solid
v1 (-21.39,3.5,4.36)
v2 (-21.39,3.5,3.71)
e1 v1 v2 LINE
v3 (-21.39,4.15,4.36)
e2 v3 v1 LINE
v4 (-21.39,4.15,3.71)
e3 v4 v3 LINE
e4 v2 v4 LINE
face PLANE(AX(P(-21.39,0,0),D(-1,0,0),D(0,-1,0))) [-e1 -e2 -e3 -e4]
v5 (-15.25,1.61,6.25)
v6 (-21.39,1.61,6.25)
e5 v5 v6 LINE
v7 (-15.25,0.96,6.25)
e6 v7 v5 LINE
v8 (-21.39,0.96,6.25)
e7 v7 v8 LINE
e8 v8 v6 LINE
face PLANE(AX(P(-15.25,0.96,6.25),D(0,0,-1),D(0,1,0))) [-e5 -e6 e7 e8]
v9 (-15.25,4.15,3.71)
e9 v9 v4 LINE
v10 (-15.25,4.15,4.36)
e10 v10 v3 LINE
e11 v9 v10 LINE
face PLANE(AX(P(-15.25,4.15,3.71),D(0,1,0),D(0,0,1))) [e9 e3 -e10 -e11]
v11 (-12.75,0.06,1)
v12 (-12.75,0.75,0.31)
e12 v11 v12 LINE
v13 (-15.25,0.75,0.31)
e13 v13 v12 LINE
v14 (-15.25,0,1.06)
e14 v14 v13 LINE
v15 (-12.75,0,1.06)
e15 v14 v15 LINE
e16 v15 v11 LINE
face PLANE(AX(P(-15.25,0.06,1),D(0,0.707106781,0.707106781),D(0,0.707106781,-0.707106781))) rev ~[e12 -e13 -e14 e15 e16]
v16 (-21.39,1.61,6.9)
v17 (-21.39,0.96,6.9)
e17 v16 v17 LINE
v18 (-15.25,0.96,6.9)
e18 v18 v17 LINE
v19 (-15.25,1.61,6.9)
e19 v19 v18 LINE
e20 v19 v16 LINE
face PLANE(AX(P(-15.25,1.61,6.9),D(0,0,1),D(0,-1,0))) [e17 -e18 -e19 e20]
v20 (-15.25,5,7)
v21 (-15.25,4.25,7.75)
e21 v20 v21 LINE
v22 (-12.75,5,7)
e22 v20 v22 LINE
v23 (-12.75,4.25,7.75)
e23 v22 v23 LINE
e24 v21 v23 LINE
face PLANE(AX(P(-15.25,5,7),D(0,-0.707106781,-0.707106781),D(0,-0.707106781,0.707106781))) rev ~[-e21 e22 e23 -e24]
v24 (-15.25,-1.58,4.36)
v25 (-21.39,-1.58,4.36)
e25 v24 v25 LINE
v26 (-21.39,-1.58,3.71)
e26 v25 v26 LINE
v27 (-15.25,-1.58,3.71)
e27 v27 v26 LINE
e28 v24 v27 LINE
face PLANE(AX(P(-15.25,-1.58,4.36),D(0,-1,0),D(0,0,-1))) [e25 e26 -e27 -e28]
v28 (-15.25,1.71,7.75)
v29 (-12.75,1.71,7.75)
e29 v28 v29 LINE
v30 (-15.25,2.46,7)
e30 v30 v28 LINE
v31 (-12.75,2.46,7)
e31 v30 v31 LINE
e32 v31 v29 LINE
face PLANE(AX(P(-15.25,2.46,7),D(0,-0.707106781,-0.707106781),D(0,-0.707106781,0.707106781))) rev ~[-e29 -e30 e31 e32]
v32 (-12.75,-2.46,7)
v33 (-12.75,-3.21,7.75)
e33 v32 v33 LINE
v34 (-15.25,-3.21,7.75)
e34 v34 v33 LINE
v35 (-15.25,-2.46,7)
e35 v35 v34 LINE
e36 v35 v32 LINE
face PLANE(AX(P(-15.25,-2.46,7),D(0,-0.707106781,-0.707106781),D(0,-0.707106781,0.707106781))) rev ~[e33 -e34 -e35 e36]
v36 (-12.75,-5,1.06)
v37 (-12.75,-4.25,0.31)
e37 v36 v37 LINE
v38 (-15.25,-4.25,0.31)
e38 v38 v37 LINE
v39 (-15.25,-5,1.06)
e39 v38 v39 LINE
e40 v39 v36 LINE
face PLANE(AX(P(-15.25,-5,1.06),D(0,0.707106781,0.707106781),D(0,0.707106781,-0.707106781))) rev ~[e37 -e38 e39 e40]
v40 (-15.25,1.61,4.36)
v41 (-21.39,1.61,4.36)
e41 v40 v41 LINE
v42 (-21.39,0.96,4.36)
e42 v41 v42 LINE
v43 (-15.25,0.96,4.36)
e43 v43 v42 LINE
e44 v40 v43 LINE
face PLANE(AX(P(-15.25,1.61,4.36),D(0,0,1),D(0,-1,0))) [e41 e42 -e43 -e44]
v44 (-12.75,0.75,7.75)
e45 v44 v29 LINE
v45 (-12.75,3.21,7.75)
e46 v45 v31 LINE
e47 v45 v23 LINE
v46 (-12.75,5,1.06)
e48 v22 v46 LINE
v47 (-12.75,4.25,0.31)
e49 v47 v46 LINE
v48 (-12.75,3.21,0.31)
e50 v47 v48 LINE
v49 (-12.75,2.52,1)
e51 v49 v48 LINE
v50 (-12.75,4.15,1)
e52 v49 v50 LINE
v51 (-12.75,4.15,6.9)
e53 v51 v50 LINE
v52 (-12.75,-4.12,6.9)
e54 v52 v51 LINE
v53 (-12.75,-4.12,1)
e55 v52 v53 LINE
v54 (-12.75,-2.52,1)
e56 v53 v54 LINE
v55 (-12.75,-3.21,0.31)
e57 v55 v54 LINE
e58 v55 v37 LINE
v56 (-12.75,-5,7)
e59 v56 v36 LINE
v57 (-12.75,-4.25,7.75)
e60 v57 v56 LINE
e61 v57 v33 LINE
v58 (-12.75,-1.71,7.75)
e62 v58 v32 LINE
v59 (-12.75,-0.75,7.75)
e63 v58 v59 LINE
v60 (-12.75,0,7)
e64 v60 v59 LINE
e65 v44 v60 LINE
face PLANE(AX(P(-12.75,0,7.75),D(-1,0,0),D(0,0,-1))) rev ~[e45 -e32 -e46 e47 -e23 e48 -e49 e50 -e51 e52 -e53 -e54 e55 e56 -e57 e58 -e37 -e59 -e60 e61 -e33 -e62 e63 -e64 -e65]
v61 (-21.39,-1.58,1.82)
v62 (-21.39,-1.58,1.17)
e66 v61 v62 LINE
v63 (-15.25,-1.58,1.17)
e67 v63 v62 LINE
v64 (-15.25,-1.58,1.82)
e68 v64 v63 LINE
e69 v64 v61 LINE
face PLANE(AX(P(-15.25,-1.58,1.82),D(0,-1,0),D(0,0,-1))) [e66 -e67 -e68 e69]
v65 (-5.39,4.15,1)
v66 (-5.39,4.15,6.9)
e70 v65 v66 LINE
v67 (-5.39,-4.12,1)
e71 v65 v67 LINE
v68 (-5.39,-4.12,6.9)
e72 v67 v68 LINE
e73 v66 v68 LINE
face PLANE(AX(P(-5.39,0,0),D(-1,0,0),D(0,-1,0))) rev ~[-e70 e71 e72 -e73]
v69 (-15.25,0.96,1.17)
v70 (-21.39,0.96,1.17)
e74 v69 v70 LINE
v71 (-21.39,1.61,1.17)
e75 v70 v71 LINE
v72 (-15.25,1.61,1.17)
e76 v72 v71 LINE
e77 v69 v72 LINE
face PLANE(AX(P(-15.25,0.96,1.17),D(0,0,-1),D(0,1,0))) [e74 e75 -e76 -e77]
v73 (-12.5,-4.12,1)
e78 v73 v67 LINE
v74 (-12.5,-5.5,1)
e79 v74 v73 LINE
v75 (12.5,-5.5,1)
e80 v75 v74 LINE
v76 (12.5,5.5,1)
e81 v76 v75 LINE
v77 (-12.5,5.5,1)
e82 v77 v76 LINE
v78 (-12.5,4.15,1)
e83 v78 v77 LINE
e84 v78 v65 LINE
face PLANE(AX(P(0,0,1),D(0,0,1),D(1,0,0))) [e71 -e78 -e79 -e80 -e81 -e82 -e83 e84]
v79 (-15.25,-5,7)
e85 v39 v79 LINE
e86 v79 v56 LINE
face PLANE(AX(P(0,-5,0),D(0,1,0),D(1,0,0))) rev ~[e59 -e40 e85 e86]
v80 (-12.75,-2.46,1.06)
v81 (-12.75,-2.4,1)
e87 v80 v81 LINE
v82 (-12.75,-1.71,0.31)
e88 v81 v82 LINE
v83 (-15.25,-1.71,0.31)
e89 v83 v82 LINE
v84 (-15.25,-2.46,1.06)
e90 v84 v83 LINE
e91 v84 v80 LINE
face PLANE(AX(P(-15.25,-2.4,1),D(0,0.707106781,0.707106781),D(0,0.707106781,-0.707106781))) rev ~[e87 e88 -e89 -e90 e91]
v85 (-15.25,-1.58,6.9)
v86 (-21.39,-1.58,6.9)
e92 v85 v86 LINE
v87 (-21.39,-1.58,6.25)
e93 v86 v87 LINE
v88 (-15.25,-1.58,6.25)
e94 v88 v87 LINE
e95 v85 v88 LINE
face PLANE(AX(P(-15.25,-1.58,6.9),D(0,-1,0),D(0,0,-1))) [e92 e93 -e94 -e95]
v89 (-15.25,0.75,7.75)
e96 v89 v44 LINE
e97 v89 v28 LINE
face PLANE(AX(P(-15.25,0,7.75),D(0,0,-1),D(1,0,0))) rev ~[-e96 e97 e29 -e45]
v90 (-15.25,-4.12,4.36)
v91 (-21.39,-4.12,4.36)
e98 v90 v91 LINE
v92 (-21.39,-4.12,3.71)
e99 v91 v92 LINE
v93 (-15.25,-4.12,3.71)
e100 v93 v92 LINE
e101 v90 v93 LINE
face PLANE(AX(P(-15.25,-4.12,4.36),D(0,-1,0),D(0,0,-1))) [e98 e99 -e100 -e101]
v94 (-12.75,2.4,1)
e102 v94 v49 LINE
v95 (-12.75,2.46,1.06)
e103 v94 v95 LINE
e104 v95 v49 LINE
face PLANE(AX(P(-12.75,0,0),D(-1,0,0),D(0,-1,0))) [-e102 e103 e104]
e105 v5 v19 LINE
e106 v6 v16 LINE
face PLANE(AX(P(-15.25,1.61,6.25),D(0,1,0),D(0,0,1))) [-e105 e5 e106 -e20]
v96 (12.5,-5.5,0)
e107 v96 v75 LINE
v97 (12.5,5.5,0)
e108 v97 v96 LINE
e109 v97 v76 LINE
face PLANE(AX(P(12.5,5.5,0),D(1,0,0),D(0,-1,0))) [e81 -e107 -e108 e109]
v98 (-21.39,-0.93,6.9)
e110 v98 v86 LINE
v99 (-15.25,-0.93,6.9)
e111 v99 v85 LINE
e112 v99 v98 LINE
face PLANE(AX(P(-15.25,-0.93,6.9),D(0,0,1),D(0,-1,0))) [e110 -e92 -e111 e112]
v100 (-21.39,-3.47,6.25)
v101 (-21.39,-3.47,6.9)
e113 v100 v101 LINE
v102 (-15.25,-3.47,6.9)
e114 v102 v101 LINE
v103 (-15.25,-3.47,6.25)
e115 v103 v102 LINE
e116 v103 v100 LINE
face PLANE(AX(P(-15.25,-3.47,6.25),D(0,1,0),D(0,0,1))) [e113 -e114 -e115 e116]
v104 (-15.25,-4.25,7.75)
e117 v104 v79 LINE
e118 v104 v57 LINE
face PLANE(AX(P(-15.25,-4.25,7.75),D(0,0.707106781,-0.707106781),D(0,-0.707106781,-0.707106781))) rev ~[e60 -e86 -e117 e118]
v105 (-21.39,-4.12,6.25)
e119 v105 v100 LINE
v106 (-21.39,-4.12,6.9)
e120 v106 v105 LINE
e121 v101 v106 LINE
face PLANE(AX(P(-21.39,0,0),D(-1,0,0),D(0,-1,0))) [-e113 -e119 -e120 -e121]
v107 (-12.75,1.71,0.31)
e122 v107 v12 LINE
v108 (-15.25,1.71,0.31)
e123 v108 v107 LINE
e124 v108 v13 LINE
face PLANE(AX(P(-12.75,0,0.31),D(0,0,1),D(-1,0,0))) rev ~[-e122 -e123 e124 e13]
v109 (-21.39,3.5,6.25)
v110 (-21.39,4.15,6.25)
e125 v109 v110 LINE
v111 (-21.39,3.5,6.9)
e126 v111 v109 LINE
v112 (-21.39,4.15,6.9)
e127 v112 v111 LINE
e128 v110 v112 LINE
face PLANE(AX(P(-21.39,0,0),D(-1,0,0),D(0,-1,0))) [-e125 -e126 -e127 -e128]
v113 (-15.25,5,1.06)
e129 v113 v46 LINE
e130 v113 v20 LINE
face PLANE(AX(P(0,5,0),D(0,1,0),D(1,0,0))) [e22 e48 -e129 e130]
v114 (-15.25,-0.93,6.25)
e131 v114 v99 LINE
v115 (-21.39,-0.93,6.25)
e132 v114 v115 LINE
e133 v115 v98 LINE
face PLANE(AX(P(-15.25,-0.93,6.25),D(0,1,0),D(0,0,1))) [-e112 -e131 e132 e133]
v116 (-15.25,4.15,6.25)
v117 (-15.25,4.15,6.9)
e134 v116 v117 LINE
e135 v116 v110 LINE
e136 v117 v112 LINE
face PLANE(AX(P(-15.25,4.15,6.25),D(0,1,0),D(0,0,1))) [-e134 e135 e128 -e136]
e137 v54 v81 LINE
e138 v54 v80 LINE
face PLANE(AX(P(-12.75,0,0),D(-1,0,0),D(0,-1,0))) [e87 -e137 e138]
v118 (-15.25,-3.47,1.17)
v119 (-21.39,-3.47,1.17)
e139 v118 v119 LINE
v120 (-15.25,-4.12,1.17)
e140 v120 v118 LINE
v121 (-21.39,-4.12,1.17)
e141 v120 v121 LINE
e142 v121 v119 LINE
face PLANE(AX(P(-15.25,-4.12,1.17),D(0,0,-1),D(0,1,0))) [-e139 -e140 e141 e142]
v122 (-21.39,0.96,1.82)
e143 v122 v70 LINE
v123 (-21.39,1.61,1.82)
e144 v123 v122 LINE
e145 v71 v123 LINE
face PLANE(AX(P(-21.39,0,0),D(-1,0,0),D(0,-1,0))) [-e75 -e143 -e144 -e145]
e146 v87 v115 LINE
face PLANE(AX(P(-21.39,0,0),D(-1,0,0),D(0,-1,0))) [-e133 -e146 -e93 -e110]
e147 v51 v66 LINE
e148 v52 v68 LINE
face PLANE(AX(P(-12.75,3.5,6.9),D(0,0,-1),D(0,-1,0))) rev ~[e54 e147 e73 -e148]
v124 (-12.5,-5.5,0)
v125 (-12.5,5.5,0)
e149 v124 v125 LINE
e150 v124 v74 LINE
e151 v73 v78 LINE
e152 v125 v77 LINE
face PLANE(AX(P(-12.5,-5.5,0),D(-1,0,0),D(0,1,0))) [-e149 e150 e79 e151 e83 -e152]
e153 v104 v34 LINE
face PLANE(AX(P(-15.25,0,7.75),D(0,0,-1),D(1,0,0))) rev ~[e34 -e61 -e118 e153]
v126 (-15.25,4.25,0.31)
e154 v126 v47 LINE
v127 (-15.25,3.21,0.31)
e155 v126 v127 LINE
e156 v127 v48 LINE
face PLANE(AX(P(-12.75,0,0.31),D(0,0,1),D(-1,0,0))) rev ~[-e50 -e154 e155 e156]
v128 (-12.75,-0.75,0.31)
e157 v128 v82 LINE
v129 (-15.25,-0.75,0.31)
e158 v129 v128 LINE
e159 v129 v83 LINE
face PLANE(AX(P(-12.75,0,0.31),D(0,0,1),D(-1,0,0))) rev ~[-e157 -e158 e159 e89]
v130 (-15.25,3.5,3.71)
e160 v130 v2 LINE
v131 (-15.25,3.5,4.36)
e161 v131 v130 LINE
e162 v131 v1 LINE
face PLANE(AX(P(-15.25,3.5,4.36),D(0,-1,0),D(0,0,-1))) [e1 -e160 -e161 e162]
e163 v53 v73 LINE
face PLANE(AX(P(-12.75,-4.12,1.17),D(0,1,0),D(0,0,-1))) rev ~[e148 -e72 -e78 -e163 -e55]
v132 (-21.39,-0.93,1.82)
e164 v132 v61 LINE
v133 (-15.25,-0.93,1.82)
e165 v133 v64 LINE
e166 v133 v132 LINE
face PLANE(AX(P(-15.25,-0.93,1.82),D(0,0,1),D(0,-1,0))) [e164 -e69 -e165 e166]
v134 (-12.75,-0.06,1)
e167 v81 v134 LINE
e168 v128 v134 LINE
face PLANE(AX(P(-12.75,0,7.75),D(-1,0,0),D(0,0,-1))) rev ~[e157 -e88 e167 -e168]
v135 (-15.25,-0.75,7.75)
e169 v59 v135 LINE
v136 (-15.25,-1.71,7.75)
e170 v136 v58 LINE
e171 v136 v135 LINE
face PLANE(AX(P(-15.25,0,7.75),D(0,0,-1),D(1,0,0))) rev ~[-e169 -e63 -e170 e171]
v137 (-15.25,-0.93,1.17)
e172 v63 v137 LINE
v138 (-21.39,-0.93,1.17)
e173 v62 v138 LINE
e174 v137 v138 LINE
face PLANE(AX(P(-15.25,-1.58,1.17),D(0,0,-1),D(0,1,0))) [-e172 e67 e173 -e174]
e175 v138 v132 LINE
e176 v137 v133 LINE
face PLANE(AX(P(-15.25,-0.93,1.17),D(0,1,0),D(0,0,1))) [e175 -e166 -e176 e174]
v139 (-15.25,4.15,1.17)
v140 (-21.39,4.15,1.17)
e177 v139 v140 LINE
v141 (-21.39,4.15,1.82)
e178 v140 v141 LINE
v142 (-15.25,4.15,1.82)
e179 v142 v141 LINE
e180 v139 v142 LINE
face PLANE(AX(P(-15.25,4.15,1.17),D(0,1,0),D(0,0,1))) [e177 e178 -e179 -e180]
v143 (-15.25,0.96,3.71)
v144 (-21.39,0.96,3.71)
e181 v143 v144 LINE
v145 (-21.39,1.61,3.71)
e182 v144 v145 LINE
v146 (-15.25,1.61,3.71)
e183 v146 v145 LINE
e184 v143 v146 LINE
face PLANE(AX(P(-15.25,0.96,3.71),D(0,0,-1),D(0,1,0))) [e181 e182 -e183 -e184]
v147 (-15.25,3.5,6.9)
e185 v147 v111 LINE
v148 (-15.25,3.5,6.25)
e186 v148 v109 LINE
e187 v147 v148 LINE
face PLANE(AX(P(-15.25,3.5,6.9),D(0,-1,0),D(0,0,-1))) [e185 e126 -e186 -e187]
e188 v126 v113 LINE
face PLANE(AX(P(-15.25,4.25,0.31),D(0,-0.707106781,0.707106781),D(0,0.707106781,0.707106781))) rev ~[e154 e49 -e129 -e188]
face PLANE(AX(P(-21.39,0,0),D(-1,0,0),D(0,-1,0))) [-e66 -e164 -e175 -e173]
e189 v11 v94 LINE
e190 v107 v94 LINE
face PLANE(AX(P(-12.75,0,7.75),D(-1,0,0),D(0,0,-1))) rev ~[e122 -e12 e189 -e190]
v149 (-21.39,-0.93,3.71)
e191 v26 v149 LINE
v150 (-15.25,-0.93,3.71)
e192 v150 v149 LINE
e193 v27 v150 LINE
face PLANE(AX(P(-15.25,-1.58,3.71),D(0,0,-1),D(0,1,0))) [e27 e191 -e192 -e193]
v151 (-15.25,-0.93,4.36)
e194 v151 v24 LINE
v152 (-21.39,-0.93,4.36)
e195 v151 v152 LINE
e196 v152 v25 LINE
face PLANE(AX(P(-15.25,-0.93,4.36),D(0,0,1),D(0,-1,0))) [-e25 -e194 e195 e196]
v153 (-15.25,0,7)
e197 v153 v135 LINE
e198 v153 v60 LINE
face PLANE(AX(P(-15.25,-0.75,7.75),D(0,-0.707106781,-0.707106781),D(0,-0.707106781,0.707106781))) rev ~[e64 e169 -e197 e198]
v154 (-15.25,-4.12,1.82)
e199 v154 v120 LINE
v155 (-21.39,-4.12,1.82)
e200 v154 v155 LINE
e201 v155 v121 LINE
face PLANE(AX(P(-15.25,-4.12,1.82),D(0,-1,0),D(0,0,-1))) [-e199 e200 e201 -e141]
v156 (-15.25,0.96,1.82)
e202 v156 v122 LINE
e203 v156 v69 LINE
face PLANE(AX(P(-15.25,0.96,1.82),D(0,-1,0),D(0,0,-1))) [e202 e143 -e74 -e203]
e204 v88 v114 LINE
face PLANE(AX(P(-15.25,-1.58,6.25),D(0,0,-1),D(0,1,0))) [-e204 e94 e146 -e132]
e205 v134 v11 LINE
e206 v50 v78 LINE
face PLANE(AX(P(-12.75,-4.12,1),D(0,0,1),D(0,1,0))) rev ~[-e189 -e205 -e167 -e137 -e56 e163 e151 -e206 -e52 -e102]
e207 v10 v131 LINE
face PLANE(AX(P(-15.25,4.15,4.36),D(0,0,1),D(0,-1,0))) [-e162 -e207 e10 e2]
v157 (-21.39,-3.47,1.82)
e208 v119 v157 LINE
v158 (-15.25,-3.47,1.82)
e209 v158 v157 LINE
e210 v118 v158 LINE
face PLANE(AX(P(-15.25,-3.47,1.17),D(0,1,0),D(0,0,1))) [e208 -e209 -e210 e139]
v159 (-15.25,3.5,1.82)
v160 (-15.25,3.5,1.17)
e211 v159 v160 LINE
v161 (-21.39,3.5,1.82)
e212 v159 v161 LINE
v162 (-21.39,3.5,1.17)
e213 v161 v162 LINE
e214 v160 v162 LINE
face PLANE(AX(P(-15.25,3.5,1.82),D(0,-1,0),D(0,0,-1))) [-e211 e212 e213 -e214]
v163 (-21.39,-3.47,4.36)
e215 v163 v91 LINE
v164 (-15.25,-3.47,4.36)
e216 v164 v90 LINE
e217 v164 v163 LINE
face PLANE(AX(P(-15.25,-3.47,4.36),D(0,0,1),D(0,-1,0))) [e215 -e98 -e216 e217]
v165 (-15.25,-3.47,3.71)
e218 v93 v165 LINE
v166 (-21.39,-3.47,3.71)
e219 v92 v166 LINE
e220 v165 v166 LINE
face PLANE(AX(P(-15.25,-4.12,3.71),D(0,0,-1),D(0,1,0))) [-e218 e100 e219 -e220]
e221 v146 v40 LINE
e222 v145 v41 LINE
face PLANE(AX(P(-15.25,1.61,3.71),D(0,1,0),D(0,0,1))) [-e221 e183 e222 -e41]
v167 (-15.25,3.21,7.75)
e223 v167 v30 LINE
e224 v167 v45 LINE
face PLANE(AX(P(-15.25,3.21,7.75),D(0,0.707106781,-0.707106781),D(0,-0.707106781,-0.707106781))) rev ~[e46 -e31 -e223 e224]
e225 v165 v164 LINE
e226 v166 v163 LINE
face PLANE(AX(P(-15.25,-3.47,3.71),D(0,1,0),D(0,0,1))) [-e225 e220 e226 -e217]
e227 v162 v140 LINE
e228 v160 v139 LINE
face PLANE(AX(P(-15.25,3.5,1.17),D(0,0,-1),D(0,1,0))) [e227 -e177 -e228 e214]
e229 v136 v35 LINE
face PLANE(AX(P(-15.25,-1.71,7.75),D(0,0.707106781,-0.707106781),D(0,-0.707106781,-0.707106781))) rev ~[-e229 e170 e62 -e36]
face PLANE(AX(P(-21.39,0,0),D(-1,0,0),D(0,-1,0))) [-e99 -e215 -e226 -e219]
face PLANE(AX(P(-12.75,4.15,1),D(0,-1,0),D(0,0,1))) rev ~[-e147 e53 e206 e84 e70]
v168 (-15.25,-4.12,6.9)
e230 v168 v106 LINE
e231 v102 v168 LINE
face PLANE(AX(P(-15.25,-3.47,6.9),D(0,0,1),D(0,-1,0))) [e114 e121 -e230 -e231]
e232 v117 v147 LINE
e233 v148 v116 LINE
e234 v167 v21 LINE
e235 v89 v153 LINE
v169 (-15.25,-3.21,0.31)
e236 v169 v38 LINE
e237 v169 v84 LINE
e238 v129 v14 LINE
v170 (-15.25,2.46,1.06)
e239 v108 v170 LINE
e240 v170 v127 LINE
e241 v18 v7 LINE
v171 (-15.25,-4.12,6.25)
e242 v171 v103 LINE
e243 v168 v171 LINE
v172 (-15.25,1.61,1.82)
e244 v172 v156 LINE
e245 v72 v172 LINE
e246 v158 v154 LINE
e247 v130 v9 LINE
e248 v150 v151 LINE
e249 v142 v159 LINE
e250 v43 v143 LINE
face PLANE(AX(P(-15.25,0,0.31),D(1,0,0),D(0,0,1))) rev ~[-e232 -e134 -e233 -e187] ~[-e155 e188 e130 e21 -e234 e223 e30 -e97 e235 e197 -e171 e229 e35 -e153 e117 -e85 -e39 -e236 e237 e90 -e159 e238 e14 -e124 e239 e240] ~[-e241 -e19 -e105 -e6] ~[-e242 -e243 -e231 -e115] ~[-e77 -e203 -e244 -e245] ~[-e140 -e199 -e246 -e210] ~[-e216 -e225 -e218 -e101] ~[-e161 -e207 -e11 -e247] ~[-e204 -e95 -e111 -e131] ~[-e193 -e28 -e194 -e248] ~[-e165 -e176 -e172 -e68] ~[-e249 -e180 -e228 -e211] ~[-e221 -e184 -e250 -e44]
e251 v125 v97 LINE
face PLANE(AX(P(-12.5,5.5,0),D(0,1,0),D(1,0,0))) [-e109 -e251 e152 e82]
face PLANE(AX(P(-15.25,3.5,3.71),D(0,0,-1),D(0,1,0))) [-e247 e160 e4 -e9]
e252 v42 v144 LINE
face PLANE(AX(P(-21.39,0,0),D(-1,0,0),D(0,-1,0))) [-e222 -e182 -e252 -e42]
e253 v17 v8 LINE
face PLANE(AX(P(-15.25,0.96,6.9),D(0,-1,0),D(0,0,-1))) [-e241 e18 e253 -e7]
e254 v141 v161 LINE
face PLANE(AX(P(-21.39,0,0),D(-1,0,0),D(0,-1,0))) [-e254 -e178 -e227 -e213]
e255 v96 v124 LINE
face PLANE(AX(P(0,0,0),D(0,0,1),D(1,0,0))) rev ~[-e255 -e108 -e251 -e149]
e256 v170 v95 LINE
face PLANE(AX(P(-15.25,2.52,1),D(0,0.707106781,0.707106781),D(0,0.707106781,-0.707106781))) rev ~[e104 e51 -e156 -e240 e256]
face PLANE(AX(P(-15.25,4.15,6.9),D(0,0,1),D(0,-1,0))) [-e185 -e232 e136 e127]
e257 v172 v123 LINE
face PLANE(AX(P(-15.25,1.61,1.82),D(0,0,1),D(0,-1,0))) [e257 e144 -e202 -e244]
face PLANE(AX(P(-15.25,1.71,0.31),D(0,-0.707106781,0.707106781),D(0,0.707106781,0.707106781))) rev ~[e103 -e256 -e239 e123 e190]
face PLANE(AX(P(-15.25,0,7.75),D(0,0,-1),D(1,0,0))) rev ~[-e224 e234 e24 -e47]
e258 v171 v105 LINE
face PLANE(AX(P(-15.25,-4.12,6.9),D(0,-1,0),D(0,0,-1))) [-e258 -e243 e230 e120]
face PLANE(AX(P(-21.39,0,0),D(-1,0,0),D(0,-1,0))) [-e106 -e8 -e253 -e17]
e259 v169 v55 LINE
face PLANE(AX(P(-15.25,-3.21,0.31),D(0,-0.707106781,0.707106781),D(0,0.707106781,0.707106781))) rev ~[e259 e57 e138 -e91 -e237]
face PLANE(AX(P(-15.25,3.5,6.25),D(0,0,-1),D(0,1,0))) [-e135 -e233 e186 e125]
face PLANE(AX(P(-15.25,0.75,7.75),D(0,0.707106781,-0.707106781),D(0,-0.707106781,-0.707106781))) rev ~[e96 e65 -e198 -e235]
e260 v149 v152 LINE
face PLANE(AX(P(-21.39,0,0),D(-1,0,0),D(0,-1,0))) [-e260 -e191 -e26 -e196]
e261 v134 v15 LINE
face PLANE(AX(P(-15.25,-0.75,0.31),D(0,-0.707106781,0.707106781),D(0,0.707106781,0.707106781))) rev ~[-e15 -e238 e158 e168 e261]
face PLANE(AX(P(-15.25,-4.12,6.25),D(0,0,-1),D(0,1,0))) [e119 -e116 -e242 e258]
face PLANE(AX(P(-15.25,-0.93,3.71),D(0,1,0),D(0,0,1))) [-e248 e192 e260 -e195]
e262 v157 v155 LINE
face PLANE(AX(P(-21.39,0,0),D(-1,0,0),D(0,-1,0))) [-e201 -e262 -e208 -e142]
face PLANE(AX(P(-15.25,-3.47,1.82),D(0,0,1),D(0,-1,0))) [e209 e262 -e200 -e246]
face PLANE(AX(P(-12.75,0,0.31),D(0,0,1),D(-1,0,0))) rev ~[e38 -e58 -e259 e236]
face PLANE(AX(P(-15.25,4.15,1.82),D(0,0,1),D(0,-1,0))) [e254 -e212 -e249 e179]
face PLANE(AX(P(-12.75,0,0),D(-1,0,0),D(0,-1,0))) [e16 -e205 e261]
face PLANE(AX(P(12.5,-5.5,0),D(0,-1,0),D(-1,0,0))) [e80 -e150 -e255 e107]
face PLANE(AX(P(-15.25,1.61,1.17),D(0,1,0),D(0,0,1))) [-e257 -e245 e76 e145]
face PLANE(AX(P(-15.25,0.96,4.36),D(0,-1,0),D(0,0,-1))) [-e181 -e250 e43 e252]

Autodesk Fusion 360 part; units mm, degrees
sketch "Sketch1" plane through (0, 0, 0) normal (0, 0, 1) x (1, 0, 0)
  line L0 (-12.5, 5.5) -> (12.5, 5.5)
  line L1 (12.5, 5.5) -> (12.5, -5.5)
  line L2 (12.5, -5.5) -> (-12.5, -5.5)
  line L3 (-12.5, -5.5) -> (-12.5, 5.5)
  line L4 (-12.5, 5.5) -> (12.5, -5.5) construction
  line L5 (12.5, 5.5) -> (-12.5, -5.5) construction
  line L6 (-12.5, 5.5) -> (-21.5, 5.5) construction
  line L7 (-21.5, 5.5) -> (-21.5, -5.5) construction
  line L8 (-21.5, -5.5) -> (-12.5, -5.5) construction
  dimension "d1" = 11
  dimension "d2" = 25
  dimension "d5" = 34
extrude "Extrude1" add sketch "Sketch1" along normal blind 1 makes body 1
sketch "Sketch2" plane through (0, 0, 0) normal (0, 1, 0) x (1, 0, 0)
  line L0 (-15.25, -7.75) -> (-12.75, -7.75)
  line L1 (-12.75, -7.75) -> (-12.75, -0.31)
  line L2 (-12.75, -0.31) -> (-15.25, -0.31)
  line L3 (-15.25, -0.31) -> (-15.25, -7.75)
  point P0 (12.5, 0)
  dimension "d6" = 2.5
  dimension "d7" = 7.44
  dimension "d8" = 7.75
  dimension "d9" = 27.75
extrude "Extrude2" add sketch "Sketch2" along normal mid plane 10 separate body makes body 2
sketch "Sketch3" plane through (-15.25, 0, 0) normal (-1, 0, 0) x (0, -1, 0)
  line L0 (5, 7.75) -> (-5, 7.75)
  line L1 (-5, 7.75) -> (-5, 0.31)
  line L2 (-5, 0.31) -> (5, 0.31)
  line L3 (5, 0.31) -> (5, 7.75)
  line L4 (-4.15, 6.9) -> (-3.5, 6.9)
  line L5 (-3.5, 6.9) -> (-3.5, 6.25)
  line L6 (-3.5, 6.25) -> (-4.15, 6.25)
  line L7 (-4.15, 6.25) -> (-4.15, 6.9)
  line L8 (-1.61, 6.9) -> (-0.96, 6.9)
  line L9 (-0.96, 6.9) -> (-0.96, 6.25)
  line L10 (-0.96, 6.25) -> (-1.61, 6.25)
  line L11 (-1.61, 6.25) -> (-1.61, 6.9)
  line L12 (0.93, 6.9) -> (1.58, 6.9)
  line L13 (1.58, 6.9) -> (1.58, 6.25)
  line L14 (1.58, 6.25) -> (0.93, 6.25)
  line L15 (0.93, 6.25) -> (0.93, 6.9)
  line L16 (3.47, 6.9) -> (4.12, 6.9)
  line L17 (4.12, 6.9) -> (4.12, 6.25)
  line L18 (4.12, 6.25) -> (3.47, 6.25)
  line L19 (3.47, 6.25) -> (3.47, 6.9)
  line L20 (-4.15, 4.36) -> (-3.5, 4.36)
  line L21 (-3.5, 4.36) -> (-3.5, 3.71)
  line L22 (-3.5, 3.71) -> (-4.15, 3.71)
  line L23 (-4.15, 3.71) -> (-4.15, 4.36)
  line L24 (-1.61, 4.36) -> (-0.96, 4.36)
  line L25 (-0.96, 4.36) -> (-0.96, 3.71)
  line L26 (-0.96, 3.71) -> (-1.61, 3.71)
  line L27 (-1.61, 3.71) -> (-1.61, 4.36)
  line L28 (0.93, 4.36) -> (1.58, 4.36)
  line L29 (1.58, 4.36) -> (1.58, 3.71)
  line L30 (1.58, 3.71) -> (0.93, 3.71)
  line L31 (0.93, 3.71) -> (0.93, 4.36)
  line L32 (3.47, 4.36) -> (4.12, 4.36)
  line L33 (4.12, 4.36) -> (4.12, 3.71)
  line L34 (4.12, 3.71) -> (3.47, 3.71)
  line L35 (3.47, 3.71) -> (3.47, 4.36)
  line L36 (-4.15, 1.82) -> (-3.5, 1.82)
  line L37 (-3.5, 1.82) -> (-3.5, 1.17)
  line L38 (-3.5, 1.17) -> (-4.15, 1.17)
  line L39 (-4.15, 1.17) -> (-4.15, 1.82)
  line L40 (-1.61, 1.82) -> (-0.96, 1.82)
  line L41 (-0.96, 1.82) -> (-0.96, 1.17)
  line L42 (-0.96, 1.17) -> (-1.61, 1.17)
  line L43 (-1.61, 1.17) -> (-1.61, 1.82)
  line L44 (0.93, 1.82) -> (1.58, 1.82)
  line L45 (1.58, 1.82) -> (1.58, 1.17)
  line L46 (1.58, 1.17) -> (0.93, 1.17)
  line L47 (0.93, 1.17) -> (0.93, 1.82)
  line L48 (3.47, 1.82) -> (4.12, 1.82)
  line L49 (4.12, 1.82) -> (4.12, 1.17)
  line L50 (4.12, 1.17) -> (3.47, 1.17)
  line L51 (3.47, 1.17) -> (3.47, 1.82)
  line L52 (-5, 7) -> (-4.25, 7.75)
  line L53 (-3.21, 7.75) -> (-2.46, 7)
  line L54 (-2.46, 7) -> (-1.71, 7.75)
  line L55 (-0.75, 7.75) -> (0, 7)
  line L56 (0, 7) -> (0.7523, 7.7523)
  line L57 (1.71, 7.75) -> (2.46, 7)
  line L58 (2.46, 7) -> (3.21, 7.75)
  line L59 (4.25, 7.75) -> (5, 7)
  line L60 (-5, 7) -> (5, 7) construction
  line L61 (-5, 7) -> (-5, 8.8118)
  line L62 (-5, 8.8118) -> (5, 8.8118)
  line L63 (5, 8.8118) -> (5, 7)
  line L64 (-4.25, 7.75) -> (-3.21, 7.75)
  line L65 (-1.71, 7.75) -> (-0.75, 7.75)
  line L66 (0.7523, 7.7523) -> (1.71, 7.75)
  line L67 (3.21, 7.75) -> (4.25, 7.75)
  line L68 (-5, 1.06) -> (5, 1.06) construction
  line L69 (-5, 1.06) -> (-5, -0.1236)
  line L70 (-5, -0.1236) -> (5, -0.1236)
  line L71 (5, -0.1236) -> (5, 1.06)
  line L72 (5, 1.06) -> (4.25, 0.31)
  line L73 (4.25, 0.31) -> (3.21, 0.31)
  line L74 (3.21, 0.31) -> (2.46, 1.06)
  line L75 (2.46, 1.06) -> (1.71, 0.31)
  line L76 (1.71, 0.31) -> (0.75, 0.31)
  line L77 (0.75, 0.31) -> (0, 1.06)
  line L78 (0, 1.06) -> (-0.75, 0.31)
  line L79 (-0.75, 0.31) -> (-1.71, 0.31)
  line L80 (-1.71, 0.31) -> (-2.46, 1.06)
  line L81 (-2.46, 1.06) -> (-3.21, 0.31)
  line L82 (-3.21, 0.31) -> (-4.25, 0.31)
  line L83 (-4.25, 0.31) -> (-5, 1.06)
  line L84 (-4.15, 6.9) -> (4.12, 6.9)
  line L85 (4.12, 6.9) -> (4.12, 1)
  line L86 (4.12, 1) -> (-4.15, 1)
  line L87 (-4.15, 1) -> (-4.15, 6.9)
  line L88 (-5.5, 1) -> (5.5, 1)
  dimension "d12" = 0.65
  dimension "d13" = 0.65
  dimension "d16" = 2.54
  dimension "d17" = -2.54
  dimension "d18" = 0.85
  dimension "d19" = 0.85
  dimension "d20" = 0.75
  dimension "d21" = 90
  dimension "d22" = 45
  dimension "d23" = 90
  dimension "d24" = 90
  dimension "d25" = 45
  dimension "d26" = 2.54
  dimension "d27" = 2.54
  dimension "d28" = 0.75
extrude "Extrude3" cut sketch "Sketch3" against normal blind 3 contours L0 L3 L59 L63 | L0 L56 L61 L62 L63 L64 L65 L66 L67 | L0 L57 L58 | L3 L71 L72 L88 | L2 L3 L71 L72 L88 | L0 L1 L52 L61 | L0 L55 L56 | L2 L69 L70 L71 L73 L76 L79 L82 | L2 L74 L75 L86 L88 | L74 L75 L86 L88 | L0 L53 L54 | L1 L69 L83 L88 | L1 L2 L69 L83 L88 | L2 L77 L78 L86 L88 | L77 L78 L86 L88 | L2 L80 L81 L86 L88 | L80 L81 L86 L88 bodies 2
extrude "Extrude4" add sketch "Sketch3" along normal blind 6.14 contours L48 L49 L50 L51 L85 | L32 L33 L34 L35 L85 | L36 L37 L38 L39 L87 | L16 L17 L18 L19 L84 L85 | L20 L21 L22 L23 L87 | L12 L13 L14 L15 L84 | L4 L5 L6 L7 L84 L87 | L8 L9 L10 L11 L84 | L24 L25 L26 L27 | L28 L29 L30 L31 | L40 L41 L42 L43 | L44 L45 L46 L47 bodies 2
extrude "Extrude5" add sketch "Sketch3" against normal blind 7.36 from surface at -2.5 contours L5 L6 L9 L10 L11 L13 L14 L15 L18 L19 L20 L21 L22 L32 L34 L35 L36 L37 L38 L48 L50 L51 L74 L75 L77 L78 L80 L81 L84 L85 L86 L87 L88 | L48 L49 L50 L51 L85 | L74 L75 L86 L88 | L32 L33 L34 L35 L85 | L77 L78 L86 L88 | L80 L81 L86 L88 | L36 L37 L38 L39 L87 | L16 L17 L18 L19 L84 L85 | L20 L21 L22 L23 L87 | L12 L13 L14 L15 L84 | L4 L5 L6 L7 L84 L87 | L8 L9 L10 L11 L84 | L24 L25 L26 L27 | L28 L29 L30 L31 | L40 L41 L42 L43 | L44 L45 L46 L47 bodies 1 2
equation "d28 = d20"
